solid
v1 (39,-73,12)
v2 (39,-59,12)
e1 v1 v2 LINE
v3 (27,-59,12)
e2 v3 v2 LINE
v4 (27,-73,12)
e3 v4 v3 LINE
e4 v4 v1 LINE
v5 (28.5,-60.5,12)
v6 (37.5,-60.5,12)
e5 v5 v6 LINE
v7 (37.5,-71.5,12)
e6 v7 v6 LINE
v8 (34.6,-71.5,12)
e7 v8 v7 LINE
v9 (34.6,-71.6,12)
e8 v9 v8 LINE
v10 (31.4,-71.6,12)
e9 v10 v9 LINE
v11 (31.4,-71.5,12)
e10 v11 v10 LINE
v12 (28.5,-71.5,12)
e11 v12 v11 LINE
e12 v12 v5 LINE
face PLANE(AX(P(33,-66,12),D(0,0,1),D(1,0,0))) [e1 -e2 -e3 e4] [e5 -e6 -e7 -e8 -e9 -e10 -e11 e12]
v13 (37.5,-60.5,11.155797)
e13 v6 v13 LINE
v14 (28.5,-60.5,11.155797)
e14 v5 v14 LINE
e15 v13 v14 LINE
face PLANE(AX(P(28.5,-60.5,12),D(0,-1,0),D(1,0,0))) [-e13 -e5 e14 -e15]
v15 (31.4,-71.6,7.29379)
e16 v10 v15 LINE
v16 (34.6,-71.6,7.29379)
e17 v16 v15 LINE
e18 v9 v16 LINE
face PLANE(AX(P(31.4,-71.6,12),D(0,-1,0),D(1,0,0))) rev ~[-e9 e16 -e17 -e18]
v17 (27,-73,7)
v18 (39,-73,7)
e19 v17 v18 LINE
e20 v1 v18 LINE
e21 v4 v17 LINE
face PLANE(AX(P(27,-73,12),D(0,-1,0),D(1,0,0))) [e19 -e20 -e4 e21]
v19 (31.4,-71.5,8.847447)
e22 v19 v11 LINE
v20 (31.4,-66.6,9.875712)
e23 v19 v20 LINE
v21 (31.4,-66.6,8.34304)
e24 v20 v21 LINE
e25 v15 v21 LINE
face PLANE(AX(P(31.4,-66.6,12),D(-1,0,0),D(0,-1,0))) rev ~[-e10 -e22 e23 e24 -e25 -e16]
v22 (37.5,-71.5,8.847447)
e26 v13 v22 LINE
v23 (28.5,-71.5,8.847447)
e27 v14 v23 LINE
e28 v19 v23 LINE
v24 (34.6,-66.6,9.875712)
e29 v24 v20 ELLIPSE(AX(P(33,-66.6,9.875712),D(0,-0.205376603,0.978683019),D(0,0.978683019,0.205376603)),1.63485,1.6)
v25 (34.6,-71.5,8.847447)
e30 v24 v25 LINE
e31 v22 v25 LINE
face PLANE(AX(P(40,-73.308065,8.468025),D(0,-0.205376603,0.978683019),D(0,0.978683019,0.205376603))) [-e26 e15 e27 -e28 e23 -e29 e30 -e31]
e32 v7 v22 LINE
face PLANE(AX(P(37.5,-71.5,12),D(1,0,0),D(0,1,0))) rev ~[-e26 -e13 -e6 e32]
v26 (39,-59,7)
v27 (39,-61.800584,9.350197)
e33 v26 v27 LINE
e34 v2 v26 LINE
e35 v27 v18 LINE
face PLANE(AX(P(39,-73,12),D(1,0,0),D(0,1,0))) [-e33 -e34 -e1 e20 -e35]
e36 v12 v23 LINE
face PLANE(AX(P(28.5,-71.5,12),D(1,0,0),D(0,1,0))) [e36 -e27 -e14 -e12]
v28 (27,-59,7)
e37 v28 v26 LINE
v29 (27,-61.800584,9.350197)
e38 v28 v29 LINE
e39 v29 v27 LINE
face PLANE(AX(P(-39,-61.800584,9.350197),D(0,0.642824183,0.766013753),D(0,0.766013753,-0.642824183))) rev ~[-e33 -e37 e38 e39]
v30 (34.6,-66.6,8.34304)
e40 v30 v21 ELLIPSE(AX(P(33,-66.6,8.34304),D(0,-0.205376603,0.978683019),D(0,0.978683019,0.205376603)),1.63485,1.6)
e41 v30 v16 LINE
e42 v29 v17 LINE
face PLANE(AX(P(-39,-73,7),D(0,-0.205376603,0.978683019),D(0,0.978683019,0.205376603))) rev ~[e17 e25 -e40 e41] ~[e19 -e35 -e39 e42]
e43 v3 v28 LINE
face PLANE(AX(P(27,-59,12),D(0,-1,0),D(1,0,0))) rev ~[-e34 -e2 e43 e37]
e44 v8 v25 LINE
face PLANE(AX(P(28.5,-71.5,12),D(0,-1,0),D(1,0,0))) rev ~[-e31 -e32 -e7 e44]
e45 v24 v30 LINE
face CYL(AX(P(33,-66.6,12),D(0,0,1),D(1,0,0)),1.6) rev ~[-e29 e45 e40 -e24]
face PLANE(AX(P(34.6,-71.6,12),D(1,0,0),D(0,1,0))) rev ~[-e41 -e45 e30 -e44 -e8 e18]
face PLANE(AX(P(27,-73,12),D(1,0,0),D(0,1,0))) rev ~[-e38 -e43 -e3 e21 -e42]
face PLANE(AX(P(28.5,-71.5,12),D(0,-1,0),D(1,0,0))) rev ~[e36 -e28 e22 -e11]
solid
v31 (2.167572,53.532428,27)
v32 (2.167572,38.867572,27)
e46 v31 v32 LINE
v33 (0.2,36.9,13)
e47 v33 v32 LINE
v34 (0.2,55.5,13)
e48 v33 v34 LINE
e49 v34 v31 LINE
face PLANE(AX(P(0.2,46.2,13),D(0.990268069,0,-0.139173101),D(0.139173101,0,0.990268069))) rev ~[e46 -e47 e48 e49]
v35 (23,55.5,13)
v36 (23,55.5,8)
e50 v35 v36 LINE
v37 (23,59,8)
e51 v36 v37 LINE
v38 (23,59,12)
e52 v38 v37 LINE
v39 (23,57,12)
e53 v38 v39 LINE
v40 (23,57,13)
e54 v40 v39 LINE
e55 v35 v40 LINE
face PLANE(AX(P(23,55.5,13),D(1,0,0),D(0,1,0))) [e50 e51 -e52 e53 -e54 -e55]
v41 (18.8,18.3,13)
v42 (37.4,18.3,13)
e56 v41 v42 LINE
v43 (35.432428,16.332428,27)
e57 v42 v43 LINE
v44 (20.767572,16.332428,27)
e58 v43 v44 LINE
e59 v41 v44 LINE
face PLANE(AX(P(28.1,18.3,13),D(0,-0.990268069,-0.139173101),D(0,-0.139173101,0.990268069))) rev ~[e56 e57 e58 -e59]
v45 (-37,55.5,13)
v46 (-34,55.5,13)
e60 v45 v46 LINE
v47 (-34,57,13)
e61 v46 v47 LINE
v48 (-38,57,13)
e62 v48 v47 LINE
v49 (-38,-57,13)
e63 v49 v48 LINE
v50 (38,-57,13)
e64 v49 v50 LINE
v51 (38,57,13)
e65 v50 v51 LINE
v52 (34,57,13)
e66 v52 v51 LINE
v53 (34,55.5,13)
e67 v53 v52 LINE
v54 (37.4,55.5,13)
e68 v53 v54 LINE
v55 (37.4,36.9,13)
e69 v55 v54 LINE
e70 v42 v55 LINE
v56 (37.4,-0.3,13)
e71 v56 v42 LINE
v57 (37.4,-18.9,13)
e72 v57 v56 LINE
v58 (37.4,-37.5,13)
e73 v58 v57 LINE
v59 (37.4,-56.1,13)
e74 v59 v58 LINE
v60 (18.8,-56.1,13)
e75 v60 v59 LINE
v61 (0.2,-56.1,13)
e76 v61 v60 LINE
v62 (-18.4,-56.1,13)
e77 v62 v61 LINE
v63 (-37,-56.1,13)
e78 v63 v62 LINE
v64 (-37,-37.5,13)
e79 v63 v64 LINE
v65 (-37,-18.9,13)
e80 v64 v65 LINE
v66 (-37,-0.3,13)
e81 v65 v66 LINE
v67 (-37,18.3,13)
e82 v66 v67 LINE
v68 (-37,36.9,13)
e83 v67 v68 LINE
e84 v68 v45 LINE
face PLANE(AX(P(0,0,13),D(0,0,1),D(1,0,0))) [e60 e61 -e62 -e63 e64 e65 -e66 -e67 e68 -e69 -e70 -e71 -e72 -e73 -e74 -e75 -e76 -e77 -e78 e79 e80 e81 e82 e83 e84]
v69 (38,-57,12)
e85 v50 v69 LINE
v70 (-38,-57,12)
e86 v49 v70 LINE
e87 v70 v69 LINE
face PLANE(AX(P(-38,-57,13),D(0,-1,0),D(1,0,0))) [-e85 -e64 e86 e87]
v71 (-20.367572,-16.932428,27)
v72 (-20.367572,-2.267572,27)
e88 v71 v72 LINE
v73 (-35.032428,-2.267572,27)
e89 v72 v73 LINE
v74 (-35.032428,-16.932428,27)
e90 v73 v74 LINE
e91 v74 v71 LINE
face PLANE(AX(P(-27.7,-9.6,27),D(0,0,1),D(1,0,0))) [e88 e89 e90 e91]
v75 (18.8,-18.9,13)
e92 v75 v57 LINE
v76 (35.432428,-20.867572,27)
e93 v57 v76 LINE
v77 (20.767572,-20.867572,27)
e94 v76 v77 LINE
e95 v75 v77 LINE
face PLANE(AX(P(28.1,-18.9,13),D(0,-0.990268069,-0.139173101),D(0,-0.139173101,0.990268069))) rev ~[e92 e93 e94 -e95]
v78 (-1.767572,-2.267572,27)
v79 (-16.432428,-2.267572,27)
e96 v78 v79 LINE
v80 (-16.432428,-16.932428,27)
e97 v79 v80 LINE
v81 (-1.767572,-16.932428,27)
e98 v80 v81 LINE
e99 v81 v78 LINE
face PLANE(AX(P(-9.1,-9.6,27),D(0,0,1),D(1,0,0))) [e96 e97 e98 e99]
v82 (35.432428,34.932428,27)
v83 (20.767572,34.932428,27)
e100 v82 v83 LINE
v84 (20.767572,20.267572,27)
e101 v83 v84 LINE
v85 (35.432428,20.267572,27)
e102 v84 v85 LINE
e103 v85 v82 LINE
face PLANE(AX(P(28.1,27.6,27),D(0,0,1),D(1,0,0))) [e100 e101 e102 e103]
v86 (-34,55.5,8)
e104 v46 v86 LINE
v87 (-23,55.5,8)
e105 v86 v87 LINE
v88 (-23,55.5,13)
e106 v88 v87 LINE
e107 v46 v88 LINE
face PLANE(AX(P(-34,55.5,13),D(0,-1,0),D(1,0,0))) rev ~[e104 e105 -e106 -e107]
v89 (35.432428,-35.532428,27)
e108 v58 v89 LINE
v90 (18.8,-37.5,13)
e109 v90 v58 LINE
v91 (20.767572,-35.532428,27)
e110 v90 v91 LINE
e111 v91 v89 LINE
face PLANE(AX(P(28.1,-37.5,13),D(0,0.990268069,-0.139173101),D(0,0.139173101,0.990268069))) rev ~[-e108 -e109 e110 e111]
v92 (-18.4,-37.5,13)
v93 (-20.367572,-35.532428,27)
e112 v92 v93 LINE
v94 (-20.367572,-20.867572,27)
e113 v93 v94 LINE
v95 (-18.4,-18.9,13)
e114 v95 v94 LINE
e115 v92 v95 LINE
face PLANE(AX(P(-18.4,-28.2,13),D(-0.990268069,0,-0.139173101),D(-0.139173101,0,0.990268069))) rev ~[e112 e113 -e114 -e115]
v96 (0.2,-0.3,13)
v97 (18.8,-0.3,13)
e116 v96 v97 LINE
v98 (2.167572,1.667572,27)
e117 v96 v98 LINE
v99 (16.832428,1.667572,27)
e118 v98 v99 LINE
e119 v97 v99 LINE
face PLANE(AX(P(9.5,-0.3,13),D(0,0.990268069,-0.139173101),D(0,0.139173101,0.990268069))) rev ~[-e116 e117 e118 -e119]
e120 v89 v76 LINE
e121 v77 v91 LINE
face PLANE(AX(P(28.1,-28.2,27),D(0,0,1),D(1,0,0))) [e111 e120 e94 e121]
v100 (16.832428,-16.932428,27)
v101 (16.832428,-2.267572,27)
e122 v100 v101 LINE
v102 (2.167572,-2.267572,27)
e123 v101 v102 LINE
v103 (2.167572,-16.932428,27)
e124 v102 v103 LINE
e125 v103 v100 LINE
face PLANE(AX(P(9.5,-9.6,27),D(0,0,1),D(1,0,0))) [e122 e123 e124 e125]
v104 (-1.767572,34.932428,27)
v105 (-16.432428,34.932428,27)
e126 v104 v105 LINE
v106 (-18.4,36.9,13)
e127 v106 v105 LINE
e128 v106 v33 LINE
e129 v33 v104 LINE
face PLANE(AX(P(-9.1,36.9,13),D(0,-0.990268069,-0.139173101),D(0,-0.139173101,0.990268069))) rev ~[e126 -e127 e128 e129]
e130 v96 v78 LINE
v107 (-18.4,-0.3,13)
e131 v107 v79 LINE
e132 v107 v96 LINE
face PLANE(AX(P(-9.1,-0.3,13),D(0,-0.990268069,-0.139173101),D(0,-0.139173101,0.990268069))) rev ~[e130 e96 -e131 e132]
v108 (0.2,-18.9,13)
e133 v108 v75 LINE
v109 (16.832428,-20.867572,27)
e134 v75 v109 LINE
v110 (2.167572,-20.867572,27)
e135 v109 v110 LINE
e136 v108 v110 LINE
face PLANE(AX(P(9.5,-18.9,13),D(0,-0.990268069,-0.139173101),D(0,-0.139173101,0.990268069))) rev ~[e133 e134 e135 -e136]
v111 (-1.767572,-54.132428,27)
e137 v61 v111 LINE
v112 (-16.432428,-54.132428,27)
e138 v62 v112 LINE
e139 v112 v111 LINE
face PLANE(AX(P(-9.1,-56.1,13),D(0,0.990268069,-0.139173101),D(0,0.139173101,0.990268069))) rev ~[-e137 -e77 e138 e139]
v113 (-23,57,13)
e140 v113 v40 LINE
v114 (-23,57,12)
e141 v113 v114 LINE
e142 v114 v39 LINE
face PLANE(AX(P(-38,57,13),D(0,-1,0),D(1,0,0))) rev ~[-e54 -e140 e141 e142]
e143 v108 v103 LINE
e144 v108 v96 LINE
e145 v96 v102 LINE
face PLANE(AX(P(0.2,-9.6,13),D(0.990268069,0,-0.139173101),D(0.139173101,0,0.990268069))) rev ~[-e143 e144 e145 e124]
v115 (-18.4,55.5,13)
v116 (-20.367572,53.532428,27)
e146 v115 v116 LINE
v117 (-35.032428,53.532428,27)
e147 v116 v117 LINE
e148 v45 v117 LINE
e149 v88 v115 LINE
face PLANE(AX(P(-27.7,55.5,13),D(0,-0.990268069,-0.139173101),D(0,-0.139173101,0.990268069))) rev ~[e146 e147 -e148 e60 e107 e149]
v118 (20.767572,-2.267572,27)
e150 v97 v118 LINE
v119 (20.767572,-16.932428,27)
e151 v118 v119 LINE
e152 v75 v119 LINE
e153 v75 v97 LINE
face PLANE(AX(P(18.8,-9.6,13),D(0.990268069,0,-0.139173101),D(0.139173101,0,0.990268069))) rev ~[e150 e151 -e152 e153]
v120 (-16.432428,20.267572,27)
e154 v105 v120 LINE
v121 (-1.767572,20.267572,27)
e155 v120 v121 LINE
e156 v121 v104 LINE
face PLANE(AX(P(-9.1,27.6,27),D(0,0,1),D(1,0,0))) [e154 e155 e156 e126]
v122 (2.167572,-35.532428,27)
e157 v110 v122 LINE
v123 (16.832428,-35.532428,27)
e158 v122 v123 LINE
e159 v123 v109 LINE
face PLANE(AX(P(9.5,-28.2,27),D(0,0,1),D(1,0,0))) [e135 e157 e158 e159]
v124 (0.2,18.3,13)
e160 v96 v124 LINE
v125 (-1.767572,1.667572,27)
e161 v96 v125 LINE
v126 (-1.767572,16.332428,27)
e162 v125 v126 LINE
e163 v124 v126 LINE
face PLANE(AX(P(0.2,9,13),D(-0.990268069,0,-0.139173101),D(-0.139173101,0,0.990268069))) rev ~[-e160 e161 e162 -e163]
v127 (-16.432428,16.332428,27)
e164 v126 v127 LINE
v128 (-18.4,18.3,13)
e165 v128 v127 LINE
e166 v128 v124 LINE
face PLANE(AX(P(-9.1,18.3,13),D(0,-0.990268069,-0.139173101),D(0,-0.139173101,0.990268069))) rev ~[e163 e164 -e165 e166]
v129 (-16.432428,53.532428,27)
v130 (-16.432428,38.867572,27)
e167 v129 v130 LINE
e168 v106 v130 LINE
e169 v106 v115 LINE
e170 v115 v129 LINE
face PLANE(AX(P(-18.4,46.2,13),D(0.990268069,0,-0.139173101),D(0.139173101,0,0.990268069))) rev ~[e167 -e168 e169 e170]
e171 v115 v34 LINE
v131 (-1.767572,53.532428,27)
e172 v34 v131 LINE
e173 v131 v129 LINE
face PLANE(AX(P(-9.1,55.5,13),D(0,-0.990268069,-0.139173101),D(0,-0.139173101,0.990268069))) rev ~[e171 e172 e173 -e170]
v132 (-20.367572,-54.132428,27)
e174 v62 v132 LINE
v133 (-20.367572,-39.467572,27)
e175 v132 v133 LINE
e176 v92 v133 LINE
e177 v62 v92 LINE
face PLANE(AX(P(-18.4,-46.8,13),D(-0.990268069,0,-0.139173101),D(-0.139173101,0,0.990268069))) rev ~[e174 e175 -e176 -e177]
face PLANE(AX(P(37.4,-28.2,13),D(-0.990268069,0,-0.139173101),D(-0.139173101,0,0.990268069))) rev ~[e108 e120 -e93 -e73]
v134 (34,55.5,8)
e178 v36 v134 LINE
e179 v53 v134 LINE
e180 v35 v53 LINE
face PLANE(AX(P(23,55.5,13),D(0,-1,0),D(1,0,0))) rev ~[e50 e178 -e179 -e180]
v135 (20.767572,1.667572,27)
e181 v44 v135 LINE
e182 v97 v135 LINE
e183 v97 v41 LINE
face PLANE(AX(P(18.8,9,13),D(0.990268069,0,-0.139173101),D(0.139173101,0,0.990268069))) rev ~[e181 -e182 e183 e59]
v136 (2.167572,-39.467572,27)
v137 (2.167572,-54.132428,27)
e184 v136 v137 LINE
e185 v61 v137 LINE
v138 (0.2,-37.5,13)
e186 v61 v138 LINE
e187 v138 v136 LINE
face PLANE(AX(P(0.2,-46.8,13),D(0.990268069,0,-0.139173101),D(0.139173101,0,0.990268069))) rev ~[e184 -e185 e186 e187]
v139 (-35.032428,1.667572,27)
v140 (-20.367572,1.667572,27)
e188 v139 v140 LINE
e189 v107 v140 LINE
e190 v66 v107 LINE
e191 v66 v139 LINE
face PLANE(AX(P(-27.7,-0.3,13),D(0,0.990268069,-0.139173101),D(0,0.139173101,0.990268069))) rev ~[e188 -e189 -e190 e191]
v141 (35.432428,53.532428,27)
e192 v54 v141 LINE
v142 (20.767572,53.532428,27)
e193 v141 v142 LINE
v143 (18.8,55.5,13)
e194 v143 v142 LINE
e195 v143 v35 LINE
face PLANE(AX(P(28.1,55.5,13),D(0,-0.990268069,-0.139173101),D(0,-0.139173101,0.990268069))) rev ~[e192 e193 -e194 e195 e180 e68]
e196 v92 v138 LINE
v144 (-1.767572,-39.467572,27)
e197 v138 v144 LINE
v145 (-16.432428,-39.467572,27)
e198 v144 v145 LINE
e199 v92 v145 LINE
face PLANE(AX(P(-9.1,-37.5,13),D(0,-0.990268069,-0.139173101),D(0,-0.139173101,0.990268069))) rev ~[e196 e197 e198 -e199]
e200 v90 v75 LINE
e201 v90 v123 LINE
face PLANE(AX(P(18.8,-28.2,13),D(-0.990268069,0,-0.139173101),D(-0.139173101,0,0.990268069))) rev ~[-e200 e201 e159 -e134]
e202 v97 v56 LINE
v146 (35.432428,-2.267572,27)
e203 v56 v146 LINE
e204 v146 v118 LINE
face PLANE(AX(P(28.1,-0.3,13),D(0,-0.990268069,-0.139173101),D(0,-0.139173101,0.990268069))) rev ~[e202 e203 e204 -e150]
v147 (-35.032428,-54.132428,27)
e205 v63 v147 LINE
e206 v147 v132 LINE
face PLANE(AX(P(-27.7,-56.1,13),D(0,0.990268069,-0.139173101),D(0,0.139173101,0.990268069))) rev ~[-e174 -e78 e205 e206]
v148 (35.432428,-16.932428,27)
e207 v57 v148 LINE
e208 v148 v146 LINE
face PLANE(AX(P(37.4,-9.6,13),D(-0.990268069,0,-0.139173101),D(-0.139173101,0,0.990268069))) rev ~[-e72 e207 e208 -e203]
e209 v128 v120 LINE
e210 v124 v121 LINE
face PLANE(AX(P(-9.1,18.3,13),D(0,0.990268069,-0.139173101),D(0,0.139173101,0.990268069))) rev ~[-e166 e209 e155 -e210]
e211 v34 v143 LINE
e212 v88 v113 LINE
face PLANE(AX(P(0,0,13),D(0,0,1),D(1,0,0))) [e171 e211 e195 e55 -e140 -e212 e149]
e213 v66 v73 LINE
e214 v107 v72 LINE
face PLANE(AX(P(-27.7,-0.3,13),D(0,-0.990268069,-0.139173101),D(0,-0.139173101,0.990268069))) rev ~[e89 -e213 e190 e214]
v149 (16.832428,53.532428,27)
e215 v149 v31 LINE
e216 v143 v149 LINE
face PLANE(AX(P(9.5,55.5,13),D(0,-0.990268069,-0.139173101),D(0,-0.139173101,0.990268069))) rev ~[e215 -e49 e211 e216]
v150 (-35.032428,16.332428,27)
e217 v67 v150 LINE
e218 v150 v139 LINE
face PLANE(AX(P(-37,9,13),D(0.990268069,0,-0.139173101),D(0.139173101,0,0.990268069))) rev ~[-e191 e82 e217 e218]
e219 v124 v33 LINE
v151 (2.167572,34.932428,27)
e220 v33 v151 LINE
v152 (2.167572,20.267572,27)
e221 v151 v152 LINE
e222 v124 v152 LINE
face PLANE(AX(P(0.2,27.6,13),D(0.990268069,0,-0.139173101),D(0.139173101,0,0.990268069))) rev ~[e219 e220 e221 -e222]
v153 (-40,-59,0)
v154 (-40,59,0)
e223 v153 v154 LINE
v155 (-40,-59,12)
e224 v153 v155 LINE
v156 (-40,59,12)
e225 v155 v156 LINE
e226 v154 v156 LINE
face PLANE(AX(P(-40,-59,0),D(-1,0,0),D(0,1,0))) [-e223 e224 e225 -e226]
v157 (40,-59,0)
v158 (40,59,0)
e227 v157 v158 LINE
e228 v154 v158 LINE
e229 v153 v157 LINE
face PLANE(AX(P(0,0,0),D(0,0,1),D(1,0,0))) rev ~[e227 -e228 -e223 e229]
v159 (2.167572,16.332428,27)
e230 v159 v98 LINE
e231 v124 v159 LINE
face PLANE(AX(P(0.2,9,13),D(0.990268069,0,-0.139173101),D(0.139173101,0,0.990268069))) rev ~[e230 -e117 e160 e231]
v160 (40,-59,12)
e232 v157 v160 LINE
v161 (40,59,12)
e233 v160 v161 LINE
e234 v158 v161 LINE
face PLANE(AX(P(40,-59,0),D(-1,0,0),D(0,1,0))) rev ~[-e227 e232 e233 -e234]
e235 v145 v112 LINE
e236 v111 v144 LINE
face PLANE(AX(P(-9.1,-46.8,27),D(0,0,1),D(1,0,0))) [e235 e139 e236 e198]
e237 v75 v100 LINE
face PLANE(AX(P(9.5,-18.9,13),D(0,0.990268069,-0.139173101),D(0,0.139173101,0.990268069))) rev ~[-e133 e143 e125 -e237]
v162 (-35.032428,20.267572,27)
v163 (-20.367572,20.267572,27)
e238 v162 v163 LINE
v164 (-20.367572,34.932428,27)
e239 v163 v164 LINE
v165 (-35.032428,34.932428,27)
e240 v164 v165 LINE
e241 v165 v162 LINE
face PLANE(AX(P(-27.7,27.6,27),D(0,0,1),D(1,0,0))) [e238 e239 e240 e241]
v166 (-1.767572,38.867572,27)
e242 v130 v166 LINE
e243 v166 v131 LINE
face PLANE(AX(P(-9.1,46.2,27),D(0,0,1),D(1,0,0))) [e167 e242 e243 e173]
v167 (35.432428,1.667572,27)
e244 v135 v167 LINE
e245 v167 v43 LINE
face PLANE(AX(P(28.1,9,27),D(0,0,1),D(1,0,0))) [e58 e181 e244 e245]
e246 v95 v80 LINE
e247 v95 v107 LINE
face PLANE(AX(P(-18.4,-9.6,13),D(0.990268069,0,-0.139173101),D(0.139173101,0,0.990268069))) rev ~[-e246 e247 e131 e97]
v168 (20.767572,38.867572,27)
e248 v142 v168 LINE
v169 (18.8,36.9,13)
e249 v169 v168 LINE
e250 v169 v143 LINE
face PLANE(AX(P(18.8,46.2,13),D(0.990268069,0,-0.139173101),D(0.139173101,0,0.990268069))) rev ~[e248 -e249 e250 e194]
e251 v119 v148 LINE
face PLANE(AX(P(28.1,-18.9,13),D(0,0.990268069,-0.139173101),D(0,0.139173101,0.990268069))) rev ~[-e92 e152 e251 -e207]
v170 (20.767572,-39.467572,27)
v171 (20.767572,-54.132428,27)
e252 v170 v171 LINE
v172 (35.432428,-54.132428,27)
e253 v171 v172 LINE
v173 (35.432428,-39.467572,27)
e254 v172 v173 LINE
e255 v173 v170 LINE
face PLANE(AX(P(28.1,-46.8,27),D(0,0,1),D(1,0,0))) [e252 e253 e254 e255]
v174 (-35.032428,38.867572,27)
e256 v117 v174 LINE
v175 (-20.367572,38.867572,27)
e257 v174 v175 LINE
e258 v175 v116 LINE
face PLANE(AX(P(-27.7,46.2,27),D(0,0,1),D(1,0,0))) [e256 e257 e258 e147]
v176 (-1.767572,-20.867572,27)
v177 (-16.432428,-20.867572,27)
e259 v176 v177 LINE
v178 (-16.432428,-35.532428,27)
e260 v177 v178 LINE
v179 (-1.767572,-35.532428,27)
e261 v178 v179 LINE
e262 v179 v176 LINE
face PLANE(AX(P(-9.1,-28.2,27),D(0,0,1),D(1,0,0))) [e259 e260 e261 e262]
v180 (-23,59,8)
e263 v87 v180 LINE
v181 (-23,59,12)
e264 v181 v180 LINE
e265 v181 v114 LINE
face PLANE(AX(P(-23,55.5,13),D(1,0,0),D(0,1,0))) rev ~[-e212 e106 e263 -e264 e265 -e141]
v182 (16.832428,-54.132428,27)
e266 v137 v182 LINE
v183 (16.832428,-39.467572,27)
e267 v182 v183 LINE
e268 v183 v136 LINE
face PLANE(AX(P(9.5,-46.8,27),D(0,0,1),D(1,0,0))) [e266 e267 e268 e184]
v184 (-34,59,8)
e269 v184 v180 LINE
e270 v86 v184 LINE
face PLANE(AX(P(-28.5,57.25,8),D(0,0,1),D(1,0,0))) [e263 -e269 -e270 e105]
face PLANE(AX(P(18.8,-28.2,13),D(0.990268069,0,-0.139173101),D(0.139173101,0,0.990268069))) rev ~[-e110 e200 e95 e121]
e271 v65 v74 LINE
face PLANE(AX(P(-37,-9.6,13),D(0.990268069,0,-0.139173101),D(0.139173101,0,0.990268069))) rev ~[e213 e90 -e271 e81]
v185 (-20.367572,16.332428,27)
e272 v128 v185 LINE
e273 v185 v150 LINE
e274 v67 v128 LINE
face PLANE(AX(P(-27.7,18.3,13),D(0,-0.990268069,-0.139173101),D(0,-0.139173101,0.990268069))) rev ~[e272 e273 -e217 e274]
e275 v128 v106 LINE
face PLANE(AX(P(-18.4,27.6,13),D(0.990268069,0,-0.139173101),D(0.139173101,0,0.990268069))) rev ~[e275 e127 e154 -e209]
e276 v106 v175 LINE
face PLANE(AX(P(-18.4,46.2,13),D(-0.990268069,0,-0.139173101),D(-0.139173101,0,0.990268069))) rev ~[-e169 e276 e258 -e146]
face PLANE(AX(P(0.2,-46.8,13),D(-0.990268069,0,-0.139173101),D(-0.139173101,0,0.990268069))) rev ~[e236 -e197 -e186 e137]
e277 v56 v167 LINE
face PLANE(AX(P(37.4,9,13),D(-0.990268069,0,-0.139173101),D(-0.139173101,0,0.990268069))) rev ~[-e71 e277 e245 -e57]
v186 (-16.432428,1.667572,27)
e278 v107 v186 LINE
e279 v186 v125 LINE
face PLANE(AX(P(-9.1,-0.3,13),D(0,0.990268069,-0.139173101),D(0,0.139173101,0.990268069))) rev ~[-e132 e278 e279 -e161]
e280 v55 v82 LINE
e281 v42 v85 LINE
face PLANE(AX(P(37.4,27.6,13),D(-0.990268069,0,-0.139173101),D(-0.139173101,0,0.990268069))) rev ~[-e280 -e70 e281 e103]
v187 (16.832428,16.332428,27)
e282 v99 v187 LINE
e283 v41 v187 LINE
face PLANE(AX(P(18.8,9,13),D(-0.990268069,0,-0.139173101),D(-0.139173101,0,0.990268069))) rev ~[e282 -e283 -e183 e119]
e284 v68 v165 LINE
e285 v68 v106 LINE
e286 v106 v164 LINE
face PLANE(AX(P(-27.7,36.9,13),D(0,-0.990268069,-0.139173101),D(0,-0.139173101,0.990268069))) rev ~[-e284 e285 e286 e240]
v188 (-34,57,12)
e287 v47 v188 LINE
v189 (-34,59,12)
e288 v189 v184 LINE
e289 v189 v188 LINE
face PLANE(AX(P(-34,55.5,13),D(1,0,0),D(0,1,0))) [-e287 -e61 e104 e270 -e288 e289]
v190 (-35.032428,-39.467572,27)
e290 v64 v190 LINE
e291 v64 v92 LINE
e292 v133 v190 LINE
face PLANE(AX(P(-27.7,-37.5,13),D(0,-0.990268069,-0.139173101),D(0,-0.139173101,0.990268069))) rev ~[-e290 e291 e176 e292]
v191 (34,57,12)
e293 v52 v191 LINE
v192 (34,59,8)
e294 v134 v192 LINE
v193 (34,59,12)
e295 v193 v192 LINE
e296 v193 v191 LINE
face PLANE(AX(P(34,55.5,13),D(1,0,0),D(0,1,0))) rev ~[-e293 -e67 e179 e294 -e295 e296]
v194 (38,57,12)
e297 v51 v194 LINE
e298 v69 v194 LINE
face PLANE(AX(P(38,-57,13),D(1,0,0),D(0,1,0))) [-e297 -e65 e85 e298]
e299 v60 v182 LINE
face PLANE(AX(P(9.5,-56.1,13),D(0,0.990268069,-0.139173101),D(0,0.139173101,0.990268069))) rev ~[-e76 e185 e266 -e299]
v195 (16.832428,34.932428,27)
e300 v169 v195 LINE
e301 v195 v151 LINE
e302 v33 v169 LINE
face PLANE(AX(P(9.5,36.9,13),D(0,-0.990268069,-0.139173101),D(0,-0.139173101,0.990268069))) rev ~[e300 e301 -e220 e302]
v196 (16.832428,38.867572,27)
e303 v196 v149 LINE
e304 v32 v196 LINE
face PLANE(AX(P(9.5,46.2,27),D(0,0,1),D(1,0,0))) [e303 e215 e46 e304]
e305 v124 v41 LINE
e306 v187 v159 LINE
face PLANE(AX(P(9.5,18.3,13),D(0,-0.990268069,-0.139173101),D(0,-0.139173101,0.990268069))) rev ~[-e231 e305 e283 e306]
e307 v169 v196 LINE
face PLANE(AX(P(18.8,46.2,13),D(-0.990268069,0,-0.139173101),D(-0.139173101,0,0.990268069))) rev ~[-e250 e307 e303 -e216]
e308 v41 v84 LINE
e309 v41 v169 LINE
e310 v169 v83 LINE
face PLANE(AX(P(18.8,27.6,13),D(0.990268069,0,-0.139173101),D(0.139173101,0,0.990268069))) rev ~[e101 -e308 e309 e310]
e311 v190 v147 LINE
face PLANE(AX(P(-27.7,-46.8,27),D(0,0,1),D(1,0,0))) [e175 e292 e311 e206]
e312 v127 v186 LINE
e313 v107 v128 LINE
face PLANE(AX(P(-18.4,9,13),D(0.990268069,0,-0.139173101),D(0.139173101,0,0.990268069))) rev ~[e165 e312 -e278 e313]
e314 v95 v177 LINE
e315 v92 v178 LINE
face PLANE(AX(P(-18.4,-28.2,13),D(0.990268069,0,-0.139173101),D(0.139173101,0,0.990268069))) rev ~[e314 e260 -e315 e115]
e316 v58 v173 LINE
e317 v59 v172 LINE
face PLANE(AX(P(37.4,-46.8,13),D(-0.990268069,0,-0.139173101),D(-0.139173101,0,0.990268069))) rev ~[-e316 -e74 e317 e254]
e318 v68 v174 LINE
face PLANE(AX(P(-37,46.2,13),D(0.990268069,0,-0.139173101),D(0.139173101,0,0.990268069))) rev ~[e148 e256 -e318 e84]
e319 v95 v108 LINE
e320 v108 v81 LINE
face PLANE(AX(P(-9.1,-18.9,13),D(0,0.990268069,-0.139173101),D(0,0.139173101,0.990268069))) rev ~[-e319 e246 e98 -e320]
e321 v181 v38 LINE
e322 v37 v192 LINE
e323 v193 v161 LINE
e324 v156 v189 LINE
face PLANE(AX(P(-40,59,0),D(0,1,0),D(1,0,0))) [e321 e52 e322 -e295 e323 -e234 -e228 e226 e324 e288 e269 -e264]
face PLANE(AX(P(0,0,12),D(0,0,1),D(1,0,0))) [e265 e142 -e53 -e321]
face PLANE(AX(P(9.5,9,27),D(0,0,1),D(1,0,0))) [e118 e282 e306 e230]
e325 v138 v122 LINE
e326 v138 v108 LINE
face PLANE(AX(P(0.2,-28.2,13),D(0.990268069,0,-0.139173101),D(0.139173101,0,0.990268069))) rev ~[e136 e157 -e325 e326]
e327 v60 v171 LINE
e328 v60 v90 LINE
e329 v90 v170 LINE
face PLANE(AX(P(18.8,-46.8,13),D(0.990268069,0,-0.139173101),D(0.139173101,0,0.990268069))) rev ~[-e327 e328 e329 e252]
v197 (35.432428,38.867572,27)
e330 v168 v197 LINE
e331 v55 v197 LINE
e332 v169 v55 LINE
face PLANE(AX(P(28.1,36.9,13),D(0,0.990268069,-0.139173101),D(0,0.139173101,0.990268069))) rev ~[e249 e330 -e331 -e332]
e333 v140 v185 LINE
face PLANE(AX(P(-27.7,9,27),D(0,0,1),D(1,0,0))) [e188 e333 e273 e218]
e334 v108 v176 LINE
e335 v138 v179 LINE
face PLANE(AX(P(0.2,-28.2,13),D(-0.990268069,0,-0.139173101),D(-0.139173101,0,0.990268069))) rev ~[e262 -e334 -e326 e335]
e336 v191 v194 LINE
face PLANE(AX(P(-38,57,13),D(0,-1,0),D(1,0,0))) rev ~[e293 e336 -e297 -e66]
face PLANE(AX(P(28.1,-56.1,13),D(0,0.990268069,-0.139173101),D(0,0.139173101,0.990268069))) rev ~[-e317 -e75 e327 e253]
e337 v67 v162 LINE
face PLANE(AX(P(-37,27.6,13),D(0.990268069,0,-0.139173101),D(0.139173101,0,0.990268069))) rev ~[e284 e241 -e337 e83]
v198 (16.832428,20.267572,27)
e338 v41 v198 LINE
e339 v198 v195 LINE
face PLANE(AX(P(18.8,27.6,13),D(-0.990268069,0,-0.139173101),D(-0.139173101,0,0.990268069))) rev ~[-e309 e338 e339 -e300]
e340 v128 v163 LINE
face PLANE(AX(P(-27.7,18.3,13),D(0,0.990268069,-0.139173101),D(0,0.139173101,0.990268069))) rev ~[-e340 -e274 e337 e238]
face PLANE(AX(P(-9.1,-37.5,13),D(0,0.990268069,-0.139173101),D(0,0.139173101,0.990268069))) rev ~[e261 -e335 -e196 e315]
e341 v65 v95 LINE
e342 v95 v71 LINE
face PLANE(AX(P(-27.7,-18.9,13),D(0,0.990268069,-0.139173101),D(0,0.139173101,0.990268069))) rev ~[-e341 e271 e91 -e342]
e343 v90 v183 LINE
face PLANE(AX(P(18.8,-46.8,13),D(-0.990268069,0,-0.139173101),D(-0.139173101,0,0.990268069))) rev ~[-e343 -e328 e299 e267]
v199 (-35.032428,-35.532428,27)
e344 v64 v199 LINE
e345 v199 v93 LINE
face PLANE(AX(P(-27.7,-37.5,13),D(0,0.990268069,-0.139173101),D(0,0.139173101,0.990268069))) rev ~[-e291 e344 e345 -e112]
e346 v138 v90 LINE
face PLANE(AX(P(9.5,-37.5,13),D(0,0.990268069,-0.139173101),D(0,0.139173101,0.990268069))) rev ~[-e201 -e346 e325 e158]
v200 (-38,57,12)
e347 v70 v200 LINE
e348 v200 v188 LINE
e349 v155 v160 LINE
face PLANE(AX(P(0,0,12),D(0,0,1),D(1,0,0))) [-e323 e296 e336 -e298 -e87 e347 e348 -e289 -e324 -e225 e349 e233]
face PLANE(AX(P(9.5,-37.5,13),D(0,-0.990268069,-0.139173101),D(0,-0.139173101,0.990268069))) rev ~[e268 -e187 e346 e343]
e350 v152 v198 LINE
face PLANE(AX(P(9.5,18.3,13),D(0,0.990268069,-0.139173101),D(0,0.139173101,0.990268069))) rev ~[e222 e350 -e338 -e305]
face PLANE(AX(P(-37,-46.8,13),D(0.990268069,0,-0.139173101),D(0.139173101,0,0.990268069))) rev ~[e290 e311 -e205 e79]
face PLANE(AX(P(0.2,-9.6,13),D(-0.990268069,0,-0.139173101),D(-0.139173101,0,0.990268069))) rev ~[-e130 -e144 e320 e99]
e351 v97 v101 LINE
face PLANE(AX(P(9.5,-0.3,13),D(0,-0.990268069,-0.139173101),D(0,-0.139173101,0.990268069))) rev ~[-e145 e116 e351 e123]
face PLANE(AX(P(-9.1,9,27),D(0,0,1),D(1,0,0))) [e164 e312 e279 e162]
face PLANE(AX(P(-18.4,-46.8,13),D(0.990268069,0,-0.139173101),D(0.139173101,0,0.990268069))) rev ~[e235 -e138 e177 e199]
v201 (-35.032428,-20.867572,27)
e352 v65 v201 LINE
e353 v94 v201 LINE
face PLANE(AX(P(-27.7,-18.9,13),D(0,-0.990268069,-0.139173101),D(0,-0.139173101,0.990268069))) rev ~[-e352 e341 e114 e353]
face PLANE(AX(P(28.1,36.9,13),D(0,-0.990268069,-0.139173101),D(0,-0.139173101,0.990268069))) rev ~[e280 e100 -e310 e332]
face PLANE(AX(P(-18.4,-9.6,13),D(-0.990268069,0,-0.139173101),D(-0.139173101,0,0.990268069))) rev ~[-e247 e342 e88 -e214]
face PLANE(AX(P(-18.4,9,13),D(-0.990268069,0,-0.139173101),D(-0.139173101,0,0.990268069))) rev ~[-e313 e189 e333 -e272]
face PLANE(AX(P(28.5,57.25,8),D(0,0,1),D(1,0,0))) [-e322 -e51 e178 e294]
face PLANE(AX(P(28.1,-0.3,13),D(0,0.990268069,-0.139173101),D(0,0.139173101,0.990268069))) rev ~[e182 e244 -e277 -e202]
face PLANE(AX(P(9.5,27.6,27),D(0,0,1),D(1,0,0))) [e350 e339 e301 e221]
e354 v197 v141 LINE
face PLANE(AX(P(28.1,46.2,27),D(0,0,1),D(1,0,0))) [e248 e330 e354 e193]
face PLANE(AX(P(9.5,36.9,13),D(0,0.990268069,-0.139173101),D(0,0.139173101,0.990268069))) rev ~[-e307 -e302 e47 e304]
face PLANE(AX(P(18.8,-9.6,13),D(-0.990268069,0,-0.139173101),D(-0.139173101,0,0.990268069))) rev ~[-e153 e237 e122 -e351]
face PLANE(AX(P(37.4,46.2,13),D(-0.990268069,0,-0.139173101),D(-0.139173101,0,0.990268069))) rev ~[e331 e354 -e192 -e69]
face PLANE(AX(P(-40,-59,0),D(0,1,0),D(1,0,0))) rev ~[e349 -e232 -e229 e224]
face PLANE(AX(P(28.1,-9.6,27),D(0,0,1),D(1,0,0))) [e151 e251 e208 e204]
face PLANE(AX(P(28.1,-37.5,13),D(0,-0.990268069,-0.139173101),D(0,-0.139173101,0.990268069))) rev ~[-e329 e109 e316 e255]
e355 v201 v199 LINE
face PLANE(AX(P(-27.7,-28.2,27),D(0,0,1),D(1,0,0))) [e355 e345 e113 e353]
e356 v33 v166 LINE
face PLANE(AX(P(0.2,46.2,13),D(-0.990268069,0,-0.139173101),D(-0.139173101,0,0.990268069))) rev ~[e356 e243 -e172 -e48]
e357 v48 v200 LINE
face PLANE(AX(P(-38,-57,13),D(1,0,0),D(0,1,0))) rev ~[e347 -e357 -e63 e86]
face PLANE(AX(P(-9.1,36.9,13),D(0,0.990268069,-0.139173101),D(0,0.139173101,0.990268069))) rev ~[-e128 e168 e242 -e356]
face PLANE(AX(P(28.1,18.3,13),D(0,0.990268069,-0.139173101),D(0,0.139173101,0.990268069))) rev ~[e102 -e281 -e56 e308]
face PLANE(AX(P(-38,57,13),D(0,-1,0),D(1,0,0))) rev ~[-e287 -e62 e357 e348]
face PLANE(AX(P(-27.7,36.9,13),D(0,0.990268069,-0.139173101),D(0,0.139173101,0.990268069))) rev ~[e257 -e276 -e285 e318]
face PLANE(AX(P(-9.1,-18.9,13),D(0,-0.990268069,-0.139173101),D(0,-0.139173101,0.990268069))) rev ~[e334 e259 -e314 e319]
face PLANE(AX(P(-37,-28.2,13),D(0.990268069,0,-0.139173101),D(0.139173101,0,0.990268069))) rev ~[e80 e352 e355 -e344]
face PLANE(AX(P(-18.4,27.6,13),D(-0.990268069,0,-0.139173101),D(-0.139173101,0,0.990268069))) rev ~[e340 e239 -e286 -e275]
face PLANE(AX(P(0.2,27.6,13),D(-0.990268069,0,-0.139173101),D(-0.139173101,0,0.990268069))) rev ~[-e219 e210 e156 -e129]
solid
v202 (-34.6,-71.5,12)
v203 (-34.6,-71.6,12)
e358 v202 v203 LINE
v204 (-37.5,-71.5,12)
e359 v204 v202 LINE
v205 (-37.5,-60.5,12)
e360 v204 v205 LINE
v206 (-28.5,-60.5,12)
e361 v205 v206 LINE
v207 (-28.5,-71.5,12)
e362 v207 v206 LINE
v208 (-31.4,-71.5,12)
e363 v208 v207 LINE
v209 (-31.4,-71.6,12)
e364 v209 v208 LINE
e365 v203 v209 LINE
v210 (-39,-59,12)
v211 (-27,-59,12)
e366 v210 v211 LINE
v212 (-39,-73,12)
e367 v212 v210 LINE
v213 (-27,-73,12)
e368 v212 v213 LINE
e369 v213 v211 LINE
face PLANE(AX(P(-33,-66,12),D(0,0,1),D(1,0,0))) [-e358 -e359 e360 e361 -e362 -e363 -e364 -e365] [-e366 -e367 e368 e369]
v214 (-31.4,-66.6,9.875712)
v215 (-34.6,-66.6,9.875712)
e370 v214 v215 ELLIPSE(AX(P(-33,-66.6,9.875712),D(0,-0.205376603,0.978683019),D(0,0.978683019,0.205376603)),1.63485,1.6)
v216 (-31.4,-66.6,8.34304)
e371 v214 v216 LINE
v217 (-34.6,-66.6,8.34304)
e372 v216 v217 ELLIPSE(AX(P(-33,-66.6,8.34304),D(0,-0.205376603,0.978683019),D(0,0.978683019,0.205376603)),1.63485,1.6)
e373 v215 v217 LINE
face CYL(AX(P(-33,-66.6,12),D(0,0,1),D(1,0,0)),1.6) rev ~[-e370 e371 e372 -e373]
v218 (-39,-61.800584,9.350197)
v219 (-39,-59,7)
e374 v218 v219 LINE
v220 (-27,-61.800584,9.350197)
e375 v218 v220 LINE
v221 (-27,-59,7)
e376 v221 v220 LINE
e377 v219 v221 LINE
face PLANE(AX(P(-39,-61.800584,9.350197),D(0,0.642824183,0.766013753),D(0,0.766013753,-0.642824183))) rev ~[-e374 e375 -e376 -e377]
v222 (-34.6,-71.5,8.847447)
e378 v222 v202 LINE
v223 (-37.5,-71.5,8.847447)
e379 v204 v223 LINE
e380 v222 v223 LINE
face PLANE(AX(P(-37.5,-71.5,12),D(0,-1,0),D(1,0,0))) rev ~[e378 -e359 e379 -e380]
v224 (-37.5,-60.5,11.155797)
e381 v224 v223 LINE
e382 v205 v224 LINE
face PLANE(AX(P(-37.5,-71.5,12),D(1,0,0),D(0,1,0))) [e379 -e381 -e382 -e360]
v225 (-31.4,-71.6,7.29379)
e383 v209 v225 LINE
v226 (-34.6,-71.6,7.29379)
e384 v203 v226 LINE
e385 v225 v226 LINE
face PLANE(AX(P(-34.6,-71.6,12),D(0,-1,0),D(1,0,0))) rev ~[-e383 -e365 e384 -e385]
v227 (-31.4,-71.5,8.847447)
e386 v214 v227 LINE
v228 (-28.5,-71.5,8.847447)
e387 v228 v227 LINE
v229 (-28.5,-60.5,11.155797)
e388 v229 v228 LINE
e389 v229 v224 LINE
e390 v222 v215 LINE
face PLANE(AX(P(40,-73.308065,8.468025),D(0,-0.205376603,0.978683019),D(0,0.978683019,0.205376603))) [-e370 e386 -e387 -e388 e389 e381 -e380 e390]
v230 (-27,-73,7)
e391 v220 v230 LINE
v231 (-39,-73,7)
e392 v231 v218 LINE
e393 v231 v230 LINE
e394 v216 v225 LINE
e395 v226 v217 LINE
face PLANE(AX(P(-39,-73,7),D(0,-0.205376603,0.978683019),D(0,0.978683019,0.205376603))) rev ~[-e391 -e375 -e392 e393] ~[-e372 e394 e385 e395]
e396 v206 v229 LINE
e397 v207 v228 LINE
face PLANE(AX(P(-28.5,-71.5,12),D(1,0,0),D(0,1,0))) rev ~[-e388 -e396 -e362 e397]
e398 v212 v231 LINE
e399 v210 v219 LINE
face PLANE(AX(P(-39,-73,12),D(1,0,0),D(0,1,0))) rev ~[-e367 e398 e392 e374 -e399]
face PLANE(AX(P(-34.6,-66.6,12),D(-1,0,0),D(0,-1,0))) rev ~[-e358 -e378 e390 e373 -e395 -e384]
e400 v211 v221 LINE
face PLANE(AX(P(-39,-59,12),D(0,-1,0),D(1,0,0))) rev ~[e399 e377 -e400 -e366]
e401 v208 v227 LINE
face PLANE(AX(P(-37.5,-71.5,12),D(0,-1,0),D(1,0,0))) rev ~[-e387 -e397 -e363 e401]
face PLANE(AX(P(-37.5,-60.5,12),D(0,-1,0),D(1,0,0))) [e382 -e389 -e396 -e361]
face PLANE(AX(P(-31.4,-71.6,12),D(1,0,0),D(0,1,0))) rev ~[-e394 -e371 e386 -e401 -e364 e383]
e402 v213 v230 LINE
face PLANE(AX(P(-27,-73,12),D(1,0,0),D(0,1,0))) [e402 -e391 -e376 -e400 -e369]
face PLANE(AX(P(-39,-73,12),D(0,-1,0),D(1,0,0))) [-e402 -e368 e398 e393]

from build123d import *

# Parameters (mm, degrees)
SKETCH_1_W                  = 80
SKETCH_1_H                  = 118
EXTRUDE_1_DEPTH             = 13
SKETCH_2_W                  = 18.6
SKETCH_2_H                  = 18.6
EXTRUDE_2_DEPTH             = 14
EXTRUDE_2_TAPER             = 8
PATTERN_LINEAR_1_COUNT      = 4
PATTERN_LINEAR_1_PITCH      = 18.6
PATTERN_LINEAR_1_COUNT_DIR2 = 6
PATTERN_LINEAR_1_PITCH_DIR2 = 18.6
SKETCH_3_W                  = 11
SKETCH_3_H                  = 3.5
CUT_EXTRUDE_1_DEPTH         = 5
SKETCH_5_W                  = 80
SKETCH_5_H                  = 118
SKETCH_5_W_2                = 76
SKETCH_5_H_2                = 114
CUT_EXTRUDE_1_2_DEPTH       = 1
SKETCH_4_W                  = 12
SKETCH_4_H                  = 14
EXTRUDE_3_DEPTH             = 5
EXTRUDE_3_2_DEPTH           = 5
CUT_EXTRUDE_2_DEPTH         = 111.900856624
CUT_EXTRUDE_3_REACH         = 86.581
SKETCH_7_W                  = 9
SKETCH_7_H                  = 11


with BuildPart() as part:
    # Эскиз1 → Бобышка-Вытянуть1 (new body)
    with BuildSketch(Plane.XY):
        Rectangle(SKETCH_1_W, SKETCH_1_H)
    extrude(amount=EXTRUDE_1_DEPTH)

    # Эскиз2 → Бобышка-Вытянуть2 (add)
    with BuildSketch(Plane.XY.offset(13)):
        with Locations((-27.7, 46.2)):
            Rectangle(SKETCH_2_W, SKETCH_2_H)
    extrude_2 = extrude(amount=EXTRUDE_2_DEPTH, taper=EXTRUDE_2_TAPER)

    # Линейный массив1: Extrude 2 4 × 6
    with Locations(*[(i * PATTERN_LINEAR_1_PITCH, -j * PATTERN_LINEAR_1_PITCH_DIR2, 0) for i in range(PATTERN_LINEAR_1_COUNT) for j in range(PATTERN_LINEAR_1_COUNT_DIR2) if (i, j) != (0, 0)]):
        add(extrude_2)

    # Эскиз3 → Cut-Extrude 1 (cut)
    with BuildSketch(Plane.XY.offset(13)):
        with Locations((-28.5, 57.25)):
            Rectangle(SKETCH_3_W, SKETCH_3_H)
        with Locations((28.5, 57.25)):
            Rectangle(SKETCH_3_W, SKETCH_3_H)
    extrude(amount=-CUT_EXTRUDE_1_DEPTH, mode=Mode.SUBTRACT)

    # Эскиз5 → Cut-Extrude 1 2 (cut)
    with BuildSketch(Plane.XY.offset(13)):
        Rectangle(SKETCH_5_W, SKETCH_5_H)
        Rectangle(SKETCH_5_W_2, SKETCH_5_H_2, mode=Mode.SUBTRACT)
    extrude(amount=-CUT_EXTRUDE_1_2_DEPTH, mode=Mode.SUBTRACT)


with BuildPart() as body_2:
    # Эскиз4 → Бобышка-Вытянуть3 (new body)
    with BuildSketch(Plane.XY.offset(12)):
        with Locations((-33, -66)):
            Rectangle(SKETCH_4_W, SKETCH_4_H)
        with BuildLine():
            Line((-34.6, -66.6), (-34.6, -71.6))
            Line((-34.6, -71.6), (-31.4, -71.6))
            Line((-31.4, -71.6), (-31.4, -66.6))
            ThreePointArc((-31.4, -66.6), (-33, -65), (-34.6, -66.6))
        make_face(mode=Mode.SUBTRACT)
    extrude(amount=-EXTRUDE_3_DEPTH)


with BuildPart() as body_3:
    # Эскиз4 → Extrude 3 2 (new body)
    with BuildSketch(Plane.XY.offset(12)):
        with Locations((33, -66)):
            Rectangle(SKETCH_4_W, SKETCH_4_H)
        with BuildLine():
            Line((31.4, -66.6), (31.4, -71.6))
            Line((31.4, -71.6), (34.6, -71.6))
            Line((34.6, -71.6), (34.6, -66.6))
            ThreePointArc((34.6, -66.6), (33, -65), (31.4, -66.6))
        make_face(mode=Mode.SUBTRACT)
    extrude(amount=-EXTRUDE_3_2_DEPTH)


with BuildPart() as cut_extrude_2_tool:
    # Эскиз6 → Вырез-Вытянуть2 (new, through all)
    with BuildSketch(Plane.ZY.offset(39)):
        Polygon((7, -73), (9.350197069, -61.800584239), (7, -59), align=None)
    extrude(amount=-CUT_EXTRUDE_2_DEPTH)


with BuildPart() as body_2_1:
    add(body_2.part)

    # Вырез-Вытянуть2: cut by cut_extrude_2_tool
    add(cut_extrude_2_tool.part, mode=Mode.SUBTRACT)


with BuildPart() as body_3_1:
    add(body_3.part)

    # Вырез-Вытянуть2: cut by cut_extrude_2_tool
    add(cut_extrude_2_tool.part, mode=Mode.SUBTRACT)


with BuildPart() as cut_extrude_3_tool:
    # Вырез-Вытянуть3: up to this plane
    cut_extrude_3_end = Plane(origin=(40, -73.308064904, 8.468024528), z_dir=(0, -0.20537660273747238, 0.9786830186776587))
    # Эскиз7 → Вырез-Вытянуть3 (new, up to the surface)
    with BuildSketch(Plane.XY.offset(12), mode=Mode.PRIVATE) as cut_extrude_3_sk1:
        with Locations((-33, -66)):
            Rectangle(SKETCH_7_W, SKETCH_7_H)
    cut_extrude_3_tool1 = split(extrude(cut_extrude_3_sk1.sketch, amount=-CUT_EXTRUDE_3_REACH, mode=Mode.PRIVATE), bisect_by=cut_extrude_3_end, keep=Keep.BOTH, mode=Mode.PRIVATE)
    add(cut_extrude_3_tool1.solids().sort_by_distance((-33, -66, 12))[0])
    # Эскиз7 → Вырез-Вытянуть3 (new, up to the surface)
    with BuildSketch(Plane.XY.offset(12), mode=Mode.PRIVATE) as cut_extrude_3_sk2:
        with Locations((33, -66)):
            Rectangle(SKETCH_7_W, SKETCH_7_H)
    cut_extrude_3_tool2 = split(extrude(cut_extrude_3_sk2.sketch, amount=-CUT_EXTRUDE_3_REACH, mode=Mode.PRIVATE), bisect_by=cut_extrude_3_end, keep=Keep.BOTH, mode=Mode.PRIVATE)
    add(cut_extrude_3_tool2.solids().sort_by_distance((33, -66, 12))[0])


with BuildPart() as body_2_2:
    add(body_2_1.part)

    # Вырез-Вытянуть3: cut by cut_extrude_3_tool
    add(cut_extrude_3_tool.part, mode=Mode.SUBTRACT)


with BuildPart() as body_3_2:
    add(body_3_1.part)

    # Вырез-Вытянуть3: cut by cut_extrude_3_tool
    add(cut_extrude_3_tool.part, mode=Mode.SUBTRACT)


solid = Compound([part.part, body_2_2.part, body_3_2.part])
